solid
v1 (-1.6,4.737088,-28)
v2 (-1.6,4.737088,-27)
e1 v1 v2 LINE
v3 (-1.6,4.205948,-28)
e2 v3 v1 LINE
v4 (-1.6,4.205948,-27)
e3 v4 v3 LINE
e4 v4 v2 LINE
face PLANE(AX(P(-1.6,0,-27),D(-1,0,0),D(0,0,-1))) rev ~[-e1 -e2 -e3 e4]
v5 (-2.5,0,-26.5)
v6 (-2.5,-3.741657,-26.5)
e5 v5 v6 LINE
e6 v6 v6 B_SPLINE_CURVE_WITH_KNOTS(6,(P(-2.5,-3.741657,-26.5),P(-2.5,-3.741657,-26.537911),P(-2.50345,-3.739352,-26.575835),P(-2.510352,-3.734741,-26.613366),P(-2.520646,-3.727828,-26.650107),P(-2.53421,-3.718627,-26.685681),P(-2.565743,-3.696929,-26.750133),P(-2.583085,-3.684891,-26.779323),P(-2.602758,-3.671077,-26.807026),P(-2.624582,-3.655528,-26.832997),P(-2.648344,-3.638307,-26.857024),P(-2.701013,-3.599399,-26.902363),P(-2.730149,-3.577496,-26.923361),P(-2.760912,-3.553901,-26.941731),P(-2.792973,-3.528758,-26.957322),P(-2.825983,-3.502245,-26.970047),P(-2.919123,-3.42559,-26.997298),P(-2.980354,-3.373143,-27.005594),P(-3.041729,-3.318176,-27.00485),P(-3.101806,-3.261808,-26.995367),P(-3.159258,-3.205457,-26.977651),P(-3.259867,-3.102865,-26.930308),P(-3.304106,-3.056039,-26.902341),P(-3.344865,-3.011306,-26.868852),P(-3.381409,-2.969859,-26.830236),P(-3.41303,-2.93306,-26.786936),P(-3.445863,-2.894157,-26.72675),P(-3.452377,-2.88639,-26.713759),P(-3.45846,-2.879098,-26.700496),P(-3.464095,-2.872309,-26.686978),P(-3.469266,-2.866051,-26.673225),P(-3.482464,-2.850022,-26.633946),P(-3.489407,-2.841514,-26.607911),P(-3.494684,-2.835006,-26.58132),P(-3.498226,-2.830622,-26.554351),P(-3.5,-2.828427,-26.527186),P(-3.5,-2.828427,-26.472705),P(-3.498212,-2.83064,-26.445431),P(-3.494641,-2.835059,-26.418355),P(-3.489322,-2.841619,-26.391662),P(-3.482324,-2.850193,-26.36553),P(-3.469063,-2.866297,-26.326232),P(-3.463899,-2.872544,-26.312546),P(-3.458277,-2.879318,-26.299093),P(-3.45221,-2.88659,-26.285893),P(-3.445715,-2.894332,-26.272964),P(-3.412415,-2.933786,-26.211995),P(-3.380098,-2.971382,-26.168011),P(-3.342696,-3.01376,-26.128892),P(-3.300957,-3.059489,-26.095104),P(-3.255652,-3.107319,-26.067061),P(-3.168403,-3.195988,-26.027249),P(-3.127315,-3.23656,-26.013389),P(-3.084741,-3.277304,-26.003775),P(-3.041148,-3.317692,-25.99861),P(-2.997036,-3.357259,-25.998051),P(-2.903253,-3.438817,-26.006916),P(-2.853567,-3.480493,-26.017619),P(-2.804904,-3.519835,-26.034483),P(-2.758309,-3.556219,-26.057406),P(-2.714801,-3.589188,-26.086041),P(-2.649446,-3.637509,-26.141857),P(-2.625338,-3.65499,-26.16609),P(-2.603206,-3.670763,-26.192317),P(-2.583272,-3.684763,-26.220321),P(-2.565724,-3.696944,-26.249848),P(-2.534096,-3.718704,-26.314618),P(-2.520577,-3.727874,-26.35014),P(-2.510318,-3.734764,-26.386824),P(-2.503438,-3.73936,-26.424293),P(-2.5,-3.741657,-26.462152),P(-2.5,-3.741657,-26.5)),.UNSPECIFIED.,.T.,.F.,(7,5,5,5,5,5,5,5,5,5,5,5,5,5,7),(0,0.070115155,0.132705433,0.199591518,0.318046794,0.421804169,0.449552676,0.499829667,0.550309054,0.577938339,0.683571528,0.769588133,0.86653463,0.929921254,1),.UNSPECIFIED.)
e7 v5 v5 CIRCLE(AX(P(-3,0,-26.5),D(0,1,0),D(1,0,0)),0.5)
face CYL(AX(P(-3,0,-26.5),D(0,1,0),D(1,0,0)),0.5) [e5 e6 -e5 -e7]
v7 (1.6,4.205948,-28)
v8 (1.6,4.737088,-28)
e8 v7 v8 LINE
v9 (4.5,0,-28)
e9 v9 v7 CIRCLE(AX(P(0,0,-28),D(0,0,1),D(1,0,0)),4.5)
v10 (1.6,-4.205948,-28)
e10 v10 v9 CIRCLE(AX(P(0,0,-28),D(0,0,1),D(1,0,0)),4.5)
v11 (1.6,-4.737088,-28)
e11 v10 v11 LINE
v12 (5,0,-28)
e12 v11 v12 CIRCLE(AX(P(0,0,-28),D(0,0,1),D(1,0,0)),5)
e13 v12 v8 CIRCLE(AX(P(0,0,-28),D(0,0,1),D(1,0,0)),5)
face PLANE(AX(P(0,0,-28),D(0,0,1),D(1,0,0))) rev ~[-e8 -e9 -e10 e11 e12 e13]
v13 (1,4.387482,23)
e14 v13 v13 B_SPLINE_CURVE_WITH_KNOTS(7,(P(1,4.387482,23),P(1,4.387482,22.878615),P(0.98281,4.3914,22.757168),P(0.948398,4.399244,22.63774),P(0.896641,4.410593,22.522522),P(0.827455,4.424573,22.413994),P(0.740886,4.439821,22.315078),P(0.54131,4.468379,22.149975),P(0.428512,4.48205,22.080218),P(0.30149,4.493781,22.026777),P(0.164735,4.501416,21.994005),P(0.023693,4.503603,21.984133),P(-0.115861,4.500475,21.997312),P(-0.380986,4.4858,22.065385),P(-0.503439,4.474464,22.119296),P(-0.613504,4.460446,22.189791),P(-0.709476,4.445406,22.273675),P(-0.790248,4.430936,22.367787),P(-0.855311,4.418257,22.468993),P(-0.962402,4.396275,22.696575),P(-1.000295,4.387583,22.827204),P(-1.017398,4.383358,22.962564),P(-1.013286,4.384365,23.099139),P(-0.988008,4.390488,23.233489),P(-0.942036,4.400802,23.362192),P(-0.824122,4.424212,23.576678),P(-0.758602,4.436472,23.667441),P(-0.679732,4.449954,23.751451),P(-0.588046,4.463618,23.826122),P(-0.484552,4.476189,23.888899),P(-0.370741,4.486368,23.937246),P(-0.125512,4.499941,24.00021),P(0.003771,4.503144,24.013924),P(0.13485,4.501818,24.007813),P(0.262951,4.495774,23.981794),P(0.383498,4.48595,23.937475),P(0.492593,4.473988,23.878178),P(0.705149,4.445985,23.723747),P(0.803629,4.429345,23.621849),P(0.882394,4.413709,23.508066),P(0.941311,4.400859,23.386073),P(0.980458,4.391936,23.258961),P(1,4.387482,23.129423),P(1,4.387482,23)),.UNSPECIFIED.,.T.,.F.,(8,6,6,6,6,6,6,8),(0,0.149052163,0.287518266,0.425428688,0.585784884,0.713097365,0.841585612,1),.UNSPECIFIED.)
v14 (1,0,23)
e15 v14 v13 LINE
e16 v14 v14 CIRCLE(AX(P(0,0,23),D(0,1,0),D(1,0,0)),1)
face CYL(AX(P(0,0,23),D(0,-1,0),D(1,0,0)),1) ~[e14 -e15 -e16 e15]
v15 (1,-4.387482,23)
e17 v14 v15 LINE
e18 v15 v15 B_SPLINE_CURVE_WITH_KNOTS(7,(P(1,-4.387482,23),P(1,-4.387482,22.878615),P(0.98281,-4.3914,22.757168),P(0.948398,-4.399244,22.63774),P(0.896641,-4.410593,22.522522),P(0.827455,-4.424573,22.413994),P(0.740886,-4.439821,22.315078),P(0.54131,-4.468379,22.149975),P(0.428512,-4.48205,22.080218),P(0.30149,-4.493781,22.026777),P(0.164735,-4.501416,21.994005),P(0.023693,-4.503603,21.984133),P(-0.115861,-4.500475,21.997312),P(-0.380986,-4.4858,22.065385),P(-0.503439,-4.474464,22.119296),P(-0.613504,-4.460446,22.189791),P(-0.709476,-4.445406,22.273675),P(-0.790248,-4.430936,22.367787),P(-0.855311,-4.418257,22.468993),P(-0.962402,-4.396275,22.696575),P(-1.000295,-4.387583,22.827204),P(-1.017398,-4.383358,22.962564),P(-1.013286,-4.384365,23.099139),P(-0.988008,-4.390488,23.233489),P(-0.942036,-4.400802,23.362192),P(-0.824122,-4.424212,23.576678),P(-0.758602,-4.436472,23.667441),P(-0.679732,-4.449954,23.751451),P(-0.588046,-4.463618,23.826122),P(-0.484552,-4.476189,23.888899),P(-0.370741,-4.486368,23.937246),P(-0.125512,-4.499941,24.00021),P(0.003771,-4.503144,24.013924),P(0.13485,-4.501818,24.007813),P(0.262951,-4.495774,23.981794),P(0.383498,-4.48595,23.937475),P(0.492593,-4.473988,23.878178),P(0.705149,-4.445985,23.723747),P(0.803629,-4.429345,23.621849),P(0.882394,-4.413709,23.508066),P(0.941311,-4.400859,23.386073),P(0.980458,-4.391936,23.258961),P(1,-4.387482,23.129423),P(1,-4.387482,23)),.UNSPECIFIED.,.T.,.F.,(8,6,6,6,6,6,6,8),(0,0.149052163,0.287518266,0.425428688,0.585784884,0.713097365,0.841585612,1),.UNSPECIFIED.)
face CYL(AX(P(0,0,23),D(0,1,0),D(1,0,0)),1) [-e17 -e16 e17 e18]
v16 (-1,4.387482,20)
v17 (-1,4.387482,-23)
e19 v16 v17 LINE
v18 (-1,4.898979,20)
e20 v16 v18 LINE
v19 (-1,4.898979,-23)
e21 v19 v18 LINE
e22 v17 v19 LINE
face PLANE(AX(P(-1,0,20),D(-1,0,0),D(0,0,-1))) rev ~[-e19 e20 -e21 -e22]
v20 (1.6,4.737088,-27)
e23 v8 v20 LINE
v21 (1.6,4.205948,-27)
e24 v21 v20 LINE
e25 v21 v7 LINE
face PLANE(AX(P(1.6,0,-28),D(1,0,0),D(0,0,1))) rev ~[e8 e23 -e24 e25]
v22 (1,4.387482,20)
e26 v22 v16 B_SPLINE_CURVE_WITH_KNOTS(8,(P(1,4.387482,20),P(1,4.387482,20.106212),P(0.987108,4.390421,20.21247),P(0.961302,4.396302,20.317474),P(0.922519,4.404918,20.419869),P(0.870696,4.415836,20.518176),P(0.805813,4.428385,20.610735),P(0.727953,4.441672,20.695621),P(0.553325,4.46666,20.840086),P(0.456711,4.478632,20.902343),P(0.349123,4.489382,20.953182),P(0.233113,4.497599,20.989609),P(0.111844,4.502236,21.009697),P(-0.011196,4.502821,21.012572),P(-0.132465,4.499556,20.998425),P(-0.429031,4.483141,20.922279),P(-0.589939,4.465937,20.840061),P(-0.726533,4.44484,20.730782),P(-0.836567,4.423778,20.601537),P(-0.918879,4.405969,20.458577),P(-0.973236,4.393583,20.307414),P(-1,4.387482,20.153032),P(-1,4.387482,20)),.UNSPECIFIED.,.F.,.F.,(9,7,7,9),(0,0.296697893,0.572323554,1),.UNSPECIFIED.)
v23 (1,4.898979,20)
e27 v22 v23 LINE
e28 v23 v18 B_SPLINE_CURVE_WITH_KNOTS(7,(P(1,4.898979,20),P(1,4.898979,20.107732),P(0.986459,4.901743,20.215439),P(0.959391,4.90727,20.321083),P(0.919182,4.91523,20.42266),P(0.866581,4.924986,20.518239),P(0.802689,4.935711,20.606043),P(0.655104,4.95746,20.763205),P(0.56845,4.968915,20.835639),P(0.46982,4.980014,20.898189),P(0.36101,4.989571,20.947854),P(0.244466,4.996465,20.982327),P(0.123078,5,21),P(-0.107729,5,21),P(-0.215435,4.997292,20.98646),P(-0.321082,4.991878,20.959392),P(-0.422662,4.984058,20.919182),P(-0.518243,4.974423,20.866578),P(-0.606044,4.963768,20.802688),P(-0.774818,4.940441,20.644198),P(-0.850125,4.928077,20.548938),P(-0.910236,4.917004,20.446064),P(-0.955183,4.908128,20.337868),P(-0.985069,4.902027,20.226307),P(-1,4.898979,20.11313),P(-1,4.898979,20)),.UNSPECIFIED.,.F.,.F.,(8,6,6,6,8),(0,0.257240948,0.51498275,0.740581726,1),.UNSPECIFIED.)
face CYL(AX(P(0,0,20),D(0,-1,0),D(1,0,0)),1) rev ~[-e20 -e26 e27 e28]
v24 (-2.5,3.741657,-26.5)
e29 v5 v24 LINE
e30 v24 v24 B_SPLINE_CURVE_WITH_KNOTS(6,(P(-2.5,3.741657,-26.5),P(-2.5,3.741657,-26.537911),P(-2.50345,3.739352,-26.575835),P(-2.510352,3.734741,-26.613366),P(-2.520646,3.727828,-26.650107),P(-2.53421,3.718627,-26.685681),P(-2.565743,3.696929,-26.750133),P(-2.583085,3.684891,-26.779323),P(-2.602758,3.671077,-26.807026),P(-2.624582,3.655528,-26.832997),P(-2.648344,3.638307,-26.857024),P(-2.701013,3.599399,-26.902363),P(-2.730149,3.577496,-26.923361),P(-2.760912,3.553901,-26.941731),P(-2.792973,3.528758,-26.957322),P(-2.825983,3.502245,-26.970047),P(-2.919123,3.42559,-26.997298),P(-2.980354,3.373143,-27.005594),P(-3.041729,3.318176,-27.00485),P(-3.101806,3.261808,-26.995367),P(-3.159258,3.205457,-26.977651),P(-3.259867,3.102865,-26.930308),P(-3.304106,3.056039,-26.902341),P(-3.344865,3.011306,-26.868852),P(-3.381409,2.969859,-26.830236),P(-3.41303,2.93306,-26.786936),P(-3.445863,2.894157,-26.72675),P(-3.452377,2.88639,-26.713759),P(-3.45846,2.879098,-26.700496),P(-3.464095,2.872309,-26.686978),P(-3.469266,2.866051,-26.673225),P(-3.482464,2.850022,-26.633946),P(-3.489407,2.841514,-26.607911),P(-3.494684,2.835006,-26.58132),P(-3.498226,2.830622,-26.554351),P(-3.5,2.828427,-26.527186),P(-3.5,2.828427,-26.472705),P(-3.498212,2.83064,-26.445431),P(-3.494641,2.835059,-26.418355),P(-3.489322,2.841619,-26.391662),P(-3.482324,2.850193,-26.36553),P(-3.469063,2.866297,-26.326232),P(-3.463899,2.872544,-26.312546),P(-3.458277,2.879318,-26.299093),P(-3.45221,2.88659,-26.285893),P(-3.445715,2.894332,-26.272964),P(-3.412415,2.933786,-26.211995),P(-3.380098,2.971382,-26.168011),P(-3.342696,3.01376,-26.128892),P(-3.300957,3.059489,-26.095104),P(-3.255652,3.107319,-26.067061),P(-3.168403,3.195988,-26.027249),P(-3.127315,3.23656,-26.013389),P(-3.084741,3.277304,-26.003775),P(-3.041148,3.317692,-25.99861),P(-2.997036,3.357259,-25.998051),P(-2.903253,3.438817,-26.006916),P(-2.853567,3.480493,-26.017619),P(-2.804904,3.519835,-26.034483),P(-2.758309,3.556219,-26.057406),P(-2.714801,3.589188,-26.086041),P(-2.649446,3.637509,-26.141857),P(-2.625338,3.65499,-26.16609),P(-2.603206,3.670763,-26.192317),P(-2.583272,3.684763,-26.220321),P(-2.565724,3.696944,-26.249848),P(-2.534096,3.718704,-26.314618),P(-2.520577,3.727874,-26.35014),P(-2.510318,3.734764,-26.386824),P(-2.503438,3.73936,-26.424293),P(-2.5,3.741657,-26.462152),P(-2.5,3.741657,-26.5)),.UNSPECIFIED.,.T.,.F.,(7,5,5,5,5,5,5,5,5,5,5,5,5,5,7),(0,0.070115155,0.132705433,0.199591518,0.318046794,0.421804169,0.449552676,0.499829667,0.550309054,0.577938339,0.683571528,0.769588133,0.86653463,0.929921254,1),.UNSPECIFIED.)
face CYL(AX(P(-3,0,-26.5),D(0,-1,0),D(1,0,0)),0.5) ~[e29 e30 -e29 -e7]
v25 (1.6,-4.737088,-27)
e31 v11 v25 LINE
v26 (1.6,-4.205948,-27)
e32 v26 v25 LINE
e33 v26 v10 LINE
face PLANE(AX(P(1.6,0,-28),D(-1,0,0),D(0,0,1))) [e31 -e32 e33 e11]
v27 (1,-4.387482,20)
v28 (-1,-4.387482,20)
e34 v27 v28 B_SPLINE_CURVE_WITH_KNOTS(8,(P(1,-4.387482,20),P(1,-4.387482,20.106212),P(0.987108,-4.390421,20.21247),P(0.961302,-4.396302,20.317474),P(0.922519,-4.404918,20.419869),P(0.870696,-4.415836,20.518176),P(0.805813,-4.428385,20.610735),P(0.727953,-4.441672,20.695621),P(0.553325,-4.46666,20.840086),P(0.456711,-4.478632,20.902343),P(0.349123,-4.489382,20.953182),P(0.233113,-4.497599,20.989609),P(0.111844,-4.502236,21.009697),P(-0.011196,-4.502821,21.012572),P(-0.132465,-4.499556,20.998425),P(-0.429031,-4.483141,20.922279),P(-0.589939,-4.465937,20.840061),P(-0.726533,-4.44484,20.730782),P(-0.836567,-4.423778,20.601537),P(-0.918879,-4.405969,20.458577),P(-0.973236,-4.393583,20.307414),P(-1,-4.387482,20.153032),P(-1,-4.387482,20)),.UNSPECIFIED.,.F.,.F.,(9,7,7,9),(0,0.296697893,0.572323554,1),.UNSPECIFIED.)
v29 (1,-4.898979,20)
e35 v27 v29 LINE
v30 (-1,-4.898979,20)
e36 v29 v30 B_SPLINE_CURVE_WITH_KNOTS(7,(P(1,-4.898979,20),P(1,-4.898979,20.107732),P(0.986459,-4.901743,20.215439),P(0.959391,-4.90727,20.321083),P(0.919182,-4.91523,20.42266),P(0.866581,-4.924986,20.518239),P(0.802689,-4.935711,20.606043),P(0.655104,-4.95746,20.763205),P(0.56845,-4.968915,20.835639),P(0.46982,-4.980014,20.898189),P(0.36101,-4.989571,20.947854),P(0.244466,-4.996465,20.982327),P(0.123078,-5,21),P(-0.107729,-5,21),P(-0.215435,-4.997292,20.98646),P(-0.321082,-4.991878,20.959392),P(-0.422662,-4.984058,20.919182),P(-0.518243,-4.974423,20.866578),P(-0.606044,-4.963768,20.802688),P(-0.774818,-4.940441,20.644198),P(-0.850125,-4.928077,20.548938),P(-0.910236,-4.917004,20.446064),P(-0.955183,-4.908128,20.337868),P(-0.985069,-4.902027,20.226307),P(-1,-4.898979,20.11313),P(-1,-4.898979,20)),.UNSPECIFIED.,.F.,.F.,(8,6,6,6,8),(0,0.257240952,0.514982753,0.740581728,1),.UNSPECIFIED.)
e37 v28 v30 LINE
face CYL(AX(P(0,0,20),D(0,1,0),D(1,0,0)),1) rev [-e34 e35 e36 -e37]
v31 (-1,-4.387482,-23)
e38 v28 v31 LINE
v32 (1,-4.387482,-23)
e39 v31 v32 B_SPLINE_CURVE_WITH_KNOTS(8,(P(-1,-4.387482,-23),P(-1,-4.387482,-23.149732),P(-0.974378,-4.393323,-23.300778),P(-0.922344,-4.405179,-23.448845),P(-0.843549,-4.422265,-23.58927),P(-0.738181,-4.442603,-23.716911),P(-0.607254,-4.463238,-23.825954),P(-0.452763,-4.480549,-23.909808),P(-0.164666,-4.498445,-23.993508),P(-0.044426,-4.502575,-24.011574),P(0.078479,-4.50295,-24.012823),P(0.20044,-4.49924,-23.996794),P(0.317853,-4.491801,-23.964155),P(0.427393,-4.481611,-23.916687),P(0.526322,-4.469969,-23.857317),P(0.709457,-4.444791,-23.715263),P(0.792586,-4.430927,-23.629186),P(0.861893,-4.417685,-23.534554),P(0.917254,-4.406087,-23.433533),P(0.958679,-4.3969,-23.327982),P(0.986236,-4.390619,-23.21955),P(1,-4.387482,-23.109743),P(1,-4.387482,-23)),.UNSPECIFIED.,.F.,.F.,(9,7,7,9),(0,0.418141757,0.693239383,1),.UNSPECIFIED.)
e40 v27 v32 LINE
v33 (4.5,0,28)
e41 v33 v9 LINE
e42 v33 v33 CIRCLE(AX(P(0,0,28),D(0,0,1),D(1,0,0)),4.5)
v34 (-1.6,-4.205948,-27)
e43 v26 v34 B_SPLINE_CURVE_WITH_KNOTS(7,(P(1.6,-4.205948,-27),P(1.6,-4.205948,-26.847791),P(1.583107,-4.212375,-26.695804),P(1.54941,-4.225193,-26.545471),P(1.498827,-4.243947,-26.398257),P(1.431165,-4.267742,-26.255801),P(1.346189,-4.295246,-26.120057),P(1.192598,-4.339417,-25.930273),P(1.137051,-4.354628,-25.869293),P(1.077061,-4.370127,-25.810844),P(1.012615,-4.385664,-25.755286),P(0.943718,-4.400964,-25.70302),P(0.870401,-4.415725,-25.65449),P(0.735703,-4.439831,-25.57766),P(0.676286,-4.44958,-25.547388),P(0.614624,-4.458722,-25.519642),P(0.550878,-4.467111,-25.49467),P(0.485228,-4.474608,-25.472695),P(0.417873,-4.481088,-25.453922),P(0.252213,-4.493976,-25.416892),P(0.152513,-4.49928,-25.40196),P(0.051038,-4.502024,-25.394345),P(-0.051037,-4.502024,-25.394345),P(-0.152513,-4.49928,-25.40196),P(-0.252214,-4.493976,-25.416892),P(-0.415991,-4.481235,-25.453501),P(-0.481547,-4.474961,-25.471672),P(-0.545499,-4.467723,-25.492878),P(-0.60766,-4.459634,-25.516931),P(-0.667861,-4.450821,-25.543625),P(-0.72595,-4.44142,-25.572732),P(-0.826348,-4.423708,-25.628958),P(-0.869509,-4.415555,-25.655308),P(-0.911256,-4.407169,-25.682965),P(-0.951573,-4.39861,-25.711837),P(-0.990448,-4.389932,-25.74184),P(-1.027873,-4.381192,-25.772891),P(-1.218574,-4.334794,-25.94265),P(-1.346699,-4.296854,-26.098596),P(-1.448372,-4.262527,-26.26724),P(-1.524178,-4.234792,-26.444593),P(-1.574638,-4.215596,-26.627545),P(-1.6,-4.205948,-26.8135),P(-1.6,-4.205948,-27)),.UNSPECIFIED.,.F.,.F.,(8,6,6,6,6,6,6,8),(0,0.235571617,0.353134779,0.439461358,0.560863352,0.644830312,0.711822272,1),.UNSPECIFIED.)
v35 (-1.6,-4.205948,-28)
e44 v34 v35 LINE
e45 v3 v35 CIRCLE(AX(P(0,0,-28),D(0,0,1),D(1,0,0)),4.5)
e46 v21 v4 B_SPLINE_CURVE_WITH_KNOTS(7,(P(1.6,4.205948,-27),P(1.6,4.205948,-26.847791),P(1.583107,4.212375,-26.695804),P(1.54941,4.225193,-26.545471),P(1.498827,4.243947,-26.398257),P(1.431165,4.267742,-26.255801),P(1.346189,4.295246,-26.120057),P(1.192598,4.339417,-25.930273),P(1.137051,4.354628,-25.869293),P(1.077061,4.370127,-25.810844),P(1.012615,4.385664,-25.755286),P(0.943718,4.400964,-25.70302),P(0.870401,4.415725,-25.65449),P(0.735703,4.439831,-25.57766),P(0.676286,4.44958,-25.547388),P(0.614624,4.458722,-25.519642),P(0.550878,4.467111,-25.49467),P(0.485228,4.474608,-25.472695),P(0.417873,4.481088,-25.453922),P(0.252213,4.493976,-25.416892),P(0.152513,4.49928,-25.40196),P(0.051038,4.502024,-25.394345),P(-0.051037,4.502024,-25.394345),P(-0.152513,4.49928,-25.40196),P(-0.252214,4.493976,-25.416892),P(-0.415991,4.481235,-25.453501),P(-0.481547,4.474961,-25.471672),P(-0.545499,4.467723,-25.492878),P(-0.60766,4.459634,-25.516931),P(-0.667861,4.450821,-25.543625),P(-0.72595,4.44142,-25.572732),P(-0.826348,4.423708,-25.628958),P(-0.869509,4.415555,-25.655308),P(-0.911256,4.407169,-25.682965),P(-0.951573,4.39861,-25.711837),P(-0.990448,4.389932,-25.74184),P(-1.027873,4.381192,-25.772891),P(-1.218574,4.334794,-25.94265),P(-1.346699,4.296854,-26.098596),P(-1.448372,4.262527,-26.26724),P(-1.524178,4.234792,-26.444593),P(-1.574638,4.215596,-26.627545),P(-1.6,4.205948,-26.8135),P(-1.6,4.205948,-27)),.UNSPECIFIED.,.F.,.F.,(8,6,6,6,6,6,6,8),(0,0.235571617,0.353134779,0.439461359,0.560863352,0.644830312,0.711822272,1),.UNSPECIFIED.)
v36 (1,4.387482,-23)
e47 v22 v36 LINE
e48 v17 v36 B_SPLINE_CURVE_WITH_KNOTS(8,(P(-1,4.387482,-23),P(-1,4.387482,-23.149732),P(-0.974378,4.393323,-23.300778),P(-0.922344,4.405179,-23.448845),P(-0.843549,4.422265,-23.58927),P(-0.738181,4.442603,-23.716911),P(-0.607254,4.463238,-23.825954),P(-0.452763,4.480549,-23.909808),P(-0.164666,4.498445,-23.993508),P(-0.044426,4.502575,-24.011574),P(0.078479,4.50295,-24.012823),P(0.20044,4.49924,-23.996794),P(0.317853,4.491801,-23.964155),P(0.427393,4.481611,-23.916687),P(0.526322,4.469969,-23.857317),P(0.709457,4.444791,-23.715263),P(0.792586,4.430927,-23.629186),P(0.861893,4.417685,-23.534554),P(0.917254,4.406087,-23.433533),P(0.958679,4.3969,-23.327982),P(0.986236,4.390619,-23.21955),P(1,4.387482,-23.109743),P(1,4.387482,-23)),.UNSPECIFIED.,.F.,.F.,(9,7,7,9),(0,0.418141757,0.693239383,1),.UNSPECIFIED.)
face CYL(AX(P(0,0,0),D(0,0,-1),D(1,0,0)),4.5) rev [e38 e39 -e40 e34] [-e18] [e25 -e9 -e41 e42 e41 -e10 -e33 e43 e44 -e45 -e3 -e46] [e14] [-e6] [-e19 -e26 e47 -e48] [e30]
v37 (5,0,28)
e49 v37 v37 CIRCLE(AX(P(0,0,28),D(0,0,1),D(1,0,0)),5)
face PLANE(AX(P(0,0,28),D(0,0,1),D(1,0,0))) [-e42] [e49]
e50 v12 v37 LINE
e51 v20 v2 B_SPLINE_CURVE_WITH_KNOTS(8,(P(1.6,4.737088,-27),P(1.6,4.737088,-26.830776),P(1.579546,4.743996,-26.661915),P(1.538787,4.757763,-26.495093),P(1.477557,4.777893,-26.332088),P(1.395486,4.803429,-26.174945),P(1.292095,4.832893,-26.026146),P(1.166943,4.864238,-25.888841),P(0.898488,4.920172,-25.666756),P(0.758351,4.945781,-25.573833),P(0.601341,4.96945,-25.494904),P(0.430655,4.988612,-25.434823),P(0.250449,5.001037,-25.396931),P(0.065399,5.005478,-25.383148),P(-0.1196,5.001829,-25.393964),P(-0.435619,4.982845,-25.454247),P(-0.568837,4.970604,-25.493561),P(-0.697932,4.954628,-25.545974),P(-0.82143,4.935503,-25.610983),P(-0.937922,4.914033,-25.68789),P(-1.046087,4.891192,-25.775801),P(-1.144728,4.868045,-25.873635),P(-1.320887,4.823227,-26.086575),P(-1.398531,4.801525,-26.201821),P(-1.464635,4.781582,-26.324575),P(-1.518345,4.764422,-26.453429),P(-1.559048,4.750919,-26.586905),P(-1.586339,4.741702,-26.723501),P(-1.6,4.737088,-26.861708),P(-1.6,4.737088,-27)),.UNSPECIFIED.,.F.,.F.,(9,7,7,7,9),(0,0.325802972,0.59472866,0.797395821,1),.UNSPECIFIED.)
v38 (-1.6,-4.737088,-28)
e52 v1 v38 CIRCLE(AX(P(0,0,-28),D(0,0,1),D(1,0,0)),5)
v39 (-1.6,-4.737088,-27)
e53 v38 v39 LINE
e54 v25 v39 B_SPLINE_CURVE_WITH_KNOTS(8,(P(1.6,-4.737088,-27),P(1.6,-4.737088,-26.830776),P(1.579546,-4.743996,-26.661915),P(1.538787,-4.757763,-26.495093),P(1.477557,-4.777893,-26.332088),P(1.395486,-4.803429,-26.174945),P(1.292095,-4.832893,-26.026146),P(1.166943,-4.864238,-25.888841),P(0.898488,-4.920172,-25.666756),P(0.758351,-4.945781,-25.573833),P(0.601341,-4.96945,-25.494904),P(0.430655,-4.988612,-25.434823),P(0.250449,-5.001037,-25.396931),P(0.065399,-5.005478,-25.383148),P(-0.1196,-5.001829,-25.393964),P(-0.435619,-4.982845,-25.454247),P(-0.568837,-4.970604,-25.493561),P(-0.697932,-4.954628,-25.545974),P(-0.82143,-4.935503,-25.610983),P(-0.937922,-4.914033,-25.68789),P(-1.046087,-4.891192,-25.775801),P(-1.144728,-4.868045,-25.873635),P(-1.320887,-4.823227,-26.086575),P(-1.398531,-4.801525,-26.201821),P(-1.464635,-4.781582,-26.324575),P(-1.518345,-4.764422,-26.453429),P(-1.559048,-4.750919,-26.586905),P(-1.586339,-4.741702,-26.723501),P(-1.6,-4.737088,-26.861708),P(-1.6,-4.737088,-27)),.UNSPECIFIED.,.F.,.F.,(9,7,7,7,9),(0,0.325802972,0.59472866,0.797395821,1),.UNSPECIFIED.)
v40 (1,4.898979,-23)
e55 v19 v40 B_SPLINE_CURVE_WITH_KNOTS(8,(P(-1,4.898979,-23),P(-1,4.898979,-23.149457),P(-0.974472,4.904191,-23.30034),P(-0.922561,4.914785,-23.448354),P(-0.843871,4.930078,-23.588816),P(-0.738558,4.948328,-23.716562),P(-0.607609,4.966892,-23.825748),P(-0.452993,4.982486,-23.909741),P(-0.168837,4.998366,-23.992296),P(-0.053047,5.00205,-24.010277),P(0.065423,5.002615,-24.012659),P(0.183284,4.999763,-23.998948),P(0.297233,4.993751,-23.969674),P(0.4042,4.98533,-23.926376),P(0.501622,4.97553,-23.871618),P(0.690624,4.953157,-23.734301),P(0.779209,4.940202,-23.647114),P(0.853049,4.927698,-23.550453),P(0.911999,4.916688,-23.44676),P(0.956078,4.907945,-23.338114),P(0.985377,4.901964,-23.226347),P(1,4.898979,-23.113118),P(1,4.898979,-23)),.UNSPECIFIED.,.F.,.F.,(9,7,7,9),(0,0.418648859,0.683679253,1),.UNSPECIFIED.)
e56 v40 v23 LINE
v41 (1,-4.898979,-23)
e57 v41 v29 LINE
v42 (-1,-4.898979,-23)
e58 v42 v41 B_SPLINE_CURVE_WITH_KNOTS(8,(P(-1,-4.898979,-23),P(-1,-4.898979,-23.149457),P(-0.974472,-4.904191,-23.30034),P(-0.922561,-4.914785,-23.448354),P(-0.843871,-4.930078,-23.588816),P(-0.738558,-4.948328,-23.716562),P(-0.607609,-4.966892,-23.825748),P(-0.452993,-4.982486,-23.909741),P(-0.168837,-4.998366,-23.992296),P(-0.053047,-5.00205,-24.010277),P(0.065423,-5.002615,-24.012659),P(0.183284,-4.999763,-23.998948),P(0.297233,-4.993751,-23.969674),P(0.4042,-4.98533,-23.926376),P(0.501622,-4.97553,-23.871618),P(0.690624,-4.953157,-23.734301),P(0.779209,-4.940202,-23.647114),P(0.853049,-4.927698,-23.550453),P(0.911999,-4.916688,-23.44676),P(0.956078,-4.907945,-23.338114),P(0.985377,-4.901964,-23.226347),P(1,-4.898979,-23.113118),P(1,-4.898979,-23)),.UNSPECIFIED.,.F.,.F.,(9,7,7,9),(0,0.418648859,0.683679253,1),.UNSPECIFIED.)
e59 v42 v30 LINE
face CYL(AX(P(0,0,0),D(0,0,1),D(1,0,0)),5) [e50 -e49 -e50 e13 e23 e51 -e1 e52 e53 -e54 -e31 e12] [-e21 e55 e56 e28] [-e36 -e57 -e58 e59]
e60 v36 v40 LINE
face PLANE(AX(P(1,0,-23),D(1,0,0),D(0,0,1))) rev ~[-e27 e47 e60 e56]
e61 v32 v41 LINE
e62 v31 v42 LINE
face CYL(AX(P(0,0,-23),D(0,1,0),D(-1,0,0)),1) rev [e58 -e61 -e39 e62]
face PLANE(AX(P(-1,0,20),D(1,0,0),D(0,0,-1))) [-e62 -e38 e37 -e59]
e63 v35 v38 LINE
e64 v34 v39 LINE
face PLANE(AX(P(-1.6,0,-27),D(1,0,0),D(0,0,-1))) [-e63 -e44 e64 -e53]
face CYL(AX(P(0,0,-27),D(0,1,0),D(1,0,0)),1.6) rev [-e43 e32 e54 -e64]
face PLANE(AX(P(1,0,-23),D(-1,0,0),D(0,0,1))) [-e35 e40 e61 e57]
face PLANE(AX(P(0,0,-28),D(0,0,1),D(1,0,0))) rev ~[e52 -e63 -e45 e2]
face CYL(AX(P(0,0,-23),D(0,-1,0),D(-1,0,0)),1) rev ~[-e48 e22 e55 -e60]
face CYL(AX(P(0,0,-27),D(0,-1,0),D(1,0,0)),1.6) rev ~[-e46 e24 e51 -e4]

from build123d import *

# Parameters (mm, degrees)
ESQUISSE1_R                    = 5
ESQUISSE1_R_2                  = 4.5
BOSS_EXTRU_1_DEPTH             = 28
BOSS_EXTRU_2_REACH             = 7
ESQUISSE2_R                    = 1
ESQUISSE2_R_2                  = 0.5
BOSS_EXTRU_2_DIRECTION_2_REACH = 7
ENL_V_MAT_EXTRU_1_DEPTH        = 6
ENL_V_MAT_EXTRU_1_DEPTH_BACK   = 6
ENL_V_MAT_EXTRU_2_DEPTH        = 6.000000118
ENL_V_MAT_EXTRU_2_DEPTH_BACK   = 6.000000118


with BuildPart() as part:
    # Esquisse1 → Boss.-Extru.1 (new body, symmetric)
    with BuildSketch(Plane.XY):
        Circle(ESQUISSE1_R)
        Circle(ESQUISSE1_R_2, mode=Mode.SUBTRACT)
    extrude(amount=BOSS_EXTRU_1_DEPTH, both=True)

    # Esquisse2 → Boss.-Extru.2 (add, up to next)
    with BuildSketch(Plane(origin=(0, 0, 0), x_dir=(1, 0, 0), z_dir=(0, 1, 0)), mode=Mode.PRIVATE) as boss_extru_2_sk1:
        with Locations((0, -23)):
            Circle(ESQUISSE2_R)
    boss_extru_2_tool1 = extrude(boss_extru_2_sk1.sketch, amount=BOSS_EXTRU_2_REACH, mode=Mode.PRIVATE) - part.part
    add(boss_extru_2_tool1.solids().sort_by_distance((0, 0, 23))[0])
    # Esquisse2 → Boss.-Extru.2 (add, up to next)
    with BuildSketch(Plane(origin=(0, 0, 0), x_dir=(1, 0, 0), z_dir=(0, 1, 0)), mode=Mode.PRIVATE) as boss_extru_2_sk2:
        with Locations((-3, 26.5)):
            Circle(ESQUISSE2_R_2)
    boss_extru_2_tool2 = extrude(boss_extru_2_sk2.sketch, amount=BOSS_EXTRU_2_REACH, mode=Mode.PRIVATE) - part.part
    add(boss_extru_2_tool2.solids().sort_by_distance((-3, 0, -26.5))[0])

    # Esquisse2 → Boss.-Extru.2 direction 2 (add, up to next)
    with BuildSketch(Plane(origin=(0, 0, 0), x_dir=(1, 0, 0), z_dir=(0, 1, 0)), mode=Mode.PRIVATE) as boss_extru_2_direction_2_sk1:
        with Locations((0, -23)):
            Circle(ESQUISSE2_R)
    boss_extru_2_direction_2_tool1 = extrude(boss_extru_2_direction_2_sk1.sketch, amount=-BOSS_EXTRU_2_DIRECTION_2_REACH, mode=Mode.PRIVATE) - part.part
    add(boss_extru_2_direction_2_tool1.solids().sort_by_distance((0, 0, 23))[0])
    # Esquisse2 → Boss.-Extru.2 direction 2 (add, up to next)
    with BuildSketch(Plane(origin=(0, 0, 0), x_dir=(1, 0, 0), z_dir=(0, 1, 0)), mode=Mode.PRIVATE) as boss_extru_2_direction_2_sk2:
        with Locations((-3, 26.5)):
            Circle(ESQUISSE2_R_2)
    boss_extru_2_direction_2_tool2 = extrude(boss_extru_2_direction_2_sk2.sketch, amount=-BOSS_EXTRU_2_DIRECTION_2_REACH, mode=Mode.PRIVATE) - part.part
    add(boss_extru_2_direction_2_tool2.solids().sort_by_distance((-3, 0, -26.5))[0])

    # Esquisse3 → Enlèv. mat.-Extru.1 (cut, two sides)
    with BuildSketch(Plane(origin=(0, 0, 0), x_dir=(1, 0, 0), z_dir=(0, 1, 0))) as enl_v_mat_extru_1_sk:
        with BuildLine():
            Line((1, 23), (1, -20))
            ThreePointArc((1, -20), (0, -21), (-1, -20))
            Line((-1, -20), (-1, 23))
            ThreePointArc((-1, 23), (0, 24), (1, 23))
        make_face()
    extrude(amount=ENL_V_MAT_EXTRU_1_DEPTH, mode=Mode.SUBTRACT)
    extrude(enl_v_mat_extru_1_sk.sketch, amount=-ENL_V_MAT_EXTRU_1_DEPTH_BACK, mode=Mode.SUBTRACT)

    # Esquisse4 → Enlèv. mat.-Extru.2 (cut, two sides)
    with BuildSketch(Plane(origin=(0, 0, 0), x_dir=(1, 0, 0), z_dir=(0, 1, 0))) as enl_v_mat_extru_2_sk:
        with BuildLine():
            Line((-1.6, 27), (-1.6, 28))
            ThreePointArc((-1.6, 28), (0, 29.6), (1.6, 28))
            Line((1.6, 28), (1.6, 27))
            ThreePointArc((1.6, 27), (0, 25.4), (-1.6, 27))
        make_face()
    extrude(amount=ENL_V_MAT_EXTRU_2_DEPTH, mode=Mode.SUBTRACT)
    extrude(enl_v_mat_extru_2_sk.sketch, amount=-ENL_V_MAT_EXTRU_2_DEPTH_BACK, mode=Mode.SUBTRACT)


solid = part.part
